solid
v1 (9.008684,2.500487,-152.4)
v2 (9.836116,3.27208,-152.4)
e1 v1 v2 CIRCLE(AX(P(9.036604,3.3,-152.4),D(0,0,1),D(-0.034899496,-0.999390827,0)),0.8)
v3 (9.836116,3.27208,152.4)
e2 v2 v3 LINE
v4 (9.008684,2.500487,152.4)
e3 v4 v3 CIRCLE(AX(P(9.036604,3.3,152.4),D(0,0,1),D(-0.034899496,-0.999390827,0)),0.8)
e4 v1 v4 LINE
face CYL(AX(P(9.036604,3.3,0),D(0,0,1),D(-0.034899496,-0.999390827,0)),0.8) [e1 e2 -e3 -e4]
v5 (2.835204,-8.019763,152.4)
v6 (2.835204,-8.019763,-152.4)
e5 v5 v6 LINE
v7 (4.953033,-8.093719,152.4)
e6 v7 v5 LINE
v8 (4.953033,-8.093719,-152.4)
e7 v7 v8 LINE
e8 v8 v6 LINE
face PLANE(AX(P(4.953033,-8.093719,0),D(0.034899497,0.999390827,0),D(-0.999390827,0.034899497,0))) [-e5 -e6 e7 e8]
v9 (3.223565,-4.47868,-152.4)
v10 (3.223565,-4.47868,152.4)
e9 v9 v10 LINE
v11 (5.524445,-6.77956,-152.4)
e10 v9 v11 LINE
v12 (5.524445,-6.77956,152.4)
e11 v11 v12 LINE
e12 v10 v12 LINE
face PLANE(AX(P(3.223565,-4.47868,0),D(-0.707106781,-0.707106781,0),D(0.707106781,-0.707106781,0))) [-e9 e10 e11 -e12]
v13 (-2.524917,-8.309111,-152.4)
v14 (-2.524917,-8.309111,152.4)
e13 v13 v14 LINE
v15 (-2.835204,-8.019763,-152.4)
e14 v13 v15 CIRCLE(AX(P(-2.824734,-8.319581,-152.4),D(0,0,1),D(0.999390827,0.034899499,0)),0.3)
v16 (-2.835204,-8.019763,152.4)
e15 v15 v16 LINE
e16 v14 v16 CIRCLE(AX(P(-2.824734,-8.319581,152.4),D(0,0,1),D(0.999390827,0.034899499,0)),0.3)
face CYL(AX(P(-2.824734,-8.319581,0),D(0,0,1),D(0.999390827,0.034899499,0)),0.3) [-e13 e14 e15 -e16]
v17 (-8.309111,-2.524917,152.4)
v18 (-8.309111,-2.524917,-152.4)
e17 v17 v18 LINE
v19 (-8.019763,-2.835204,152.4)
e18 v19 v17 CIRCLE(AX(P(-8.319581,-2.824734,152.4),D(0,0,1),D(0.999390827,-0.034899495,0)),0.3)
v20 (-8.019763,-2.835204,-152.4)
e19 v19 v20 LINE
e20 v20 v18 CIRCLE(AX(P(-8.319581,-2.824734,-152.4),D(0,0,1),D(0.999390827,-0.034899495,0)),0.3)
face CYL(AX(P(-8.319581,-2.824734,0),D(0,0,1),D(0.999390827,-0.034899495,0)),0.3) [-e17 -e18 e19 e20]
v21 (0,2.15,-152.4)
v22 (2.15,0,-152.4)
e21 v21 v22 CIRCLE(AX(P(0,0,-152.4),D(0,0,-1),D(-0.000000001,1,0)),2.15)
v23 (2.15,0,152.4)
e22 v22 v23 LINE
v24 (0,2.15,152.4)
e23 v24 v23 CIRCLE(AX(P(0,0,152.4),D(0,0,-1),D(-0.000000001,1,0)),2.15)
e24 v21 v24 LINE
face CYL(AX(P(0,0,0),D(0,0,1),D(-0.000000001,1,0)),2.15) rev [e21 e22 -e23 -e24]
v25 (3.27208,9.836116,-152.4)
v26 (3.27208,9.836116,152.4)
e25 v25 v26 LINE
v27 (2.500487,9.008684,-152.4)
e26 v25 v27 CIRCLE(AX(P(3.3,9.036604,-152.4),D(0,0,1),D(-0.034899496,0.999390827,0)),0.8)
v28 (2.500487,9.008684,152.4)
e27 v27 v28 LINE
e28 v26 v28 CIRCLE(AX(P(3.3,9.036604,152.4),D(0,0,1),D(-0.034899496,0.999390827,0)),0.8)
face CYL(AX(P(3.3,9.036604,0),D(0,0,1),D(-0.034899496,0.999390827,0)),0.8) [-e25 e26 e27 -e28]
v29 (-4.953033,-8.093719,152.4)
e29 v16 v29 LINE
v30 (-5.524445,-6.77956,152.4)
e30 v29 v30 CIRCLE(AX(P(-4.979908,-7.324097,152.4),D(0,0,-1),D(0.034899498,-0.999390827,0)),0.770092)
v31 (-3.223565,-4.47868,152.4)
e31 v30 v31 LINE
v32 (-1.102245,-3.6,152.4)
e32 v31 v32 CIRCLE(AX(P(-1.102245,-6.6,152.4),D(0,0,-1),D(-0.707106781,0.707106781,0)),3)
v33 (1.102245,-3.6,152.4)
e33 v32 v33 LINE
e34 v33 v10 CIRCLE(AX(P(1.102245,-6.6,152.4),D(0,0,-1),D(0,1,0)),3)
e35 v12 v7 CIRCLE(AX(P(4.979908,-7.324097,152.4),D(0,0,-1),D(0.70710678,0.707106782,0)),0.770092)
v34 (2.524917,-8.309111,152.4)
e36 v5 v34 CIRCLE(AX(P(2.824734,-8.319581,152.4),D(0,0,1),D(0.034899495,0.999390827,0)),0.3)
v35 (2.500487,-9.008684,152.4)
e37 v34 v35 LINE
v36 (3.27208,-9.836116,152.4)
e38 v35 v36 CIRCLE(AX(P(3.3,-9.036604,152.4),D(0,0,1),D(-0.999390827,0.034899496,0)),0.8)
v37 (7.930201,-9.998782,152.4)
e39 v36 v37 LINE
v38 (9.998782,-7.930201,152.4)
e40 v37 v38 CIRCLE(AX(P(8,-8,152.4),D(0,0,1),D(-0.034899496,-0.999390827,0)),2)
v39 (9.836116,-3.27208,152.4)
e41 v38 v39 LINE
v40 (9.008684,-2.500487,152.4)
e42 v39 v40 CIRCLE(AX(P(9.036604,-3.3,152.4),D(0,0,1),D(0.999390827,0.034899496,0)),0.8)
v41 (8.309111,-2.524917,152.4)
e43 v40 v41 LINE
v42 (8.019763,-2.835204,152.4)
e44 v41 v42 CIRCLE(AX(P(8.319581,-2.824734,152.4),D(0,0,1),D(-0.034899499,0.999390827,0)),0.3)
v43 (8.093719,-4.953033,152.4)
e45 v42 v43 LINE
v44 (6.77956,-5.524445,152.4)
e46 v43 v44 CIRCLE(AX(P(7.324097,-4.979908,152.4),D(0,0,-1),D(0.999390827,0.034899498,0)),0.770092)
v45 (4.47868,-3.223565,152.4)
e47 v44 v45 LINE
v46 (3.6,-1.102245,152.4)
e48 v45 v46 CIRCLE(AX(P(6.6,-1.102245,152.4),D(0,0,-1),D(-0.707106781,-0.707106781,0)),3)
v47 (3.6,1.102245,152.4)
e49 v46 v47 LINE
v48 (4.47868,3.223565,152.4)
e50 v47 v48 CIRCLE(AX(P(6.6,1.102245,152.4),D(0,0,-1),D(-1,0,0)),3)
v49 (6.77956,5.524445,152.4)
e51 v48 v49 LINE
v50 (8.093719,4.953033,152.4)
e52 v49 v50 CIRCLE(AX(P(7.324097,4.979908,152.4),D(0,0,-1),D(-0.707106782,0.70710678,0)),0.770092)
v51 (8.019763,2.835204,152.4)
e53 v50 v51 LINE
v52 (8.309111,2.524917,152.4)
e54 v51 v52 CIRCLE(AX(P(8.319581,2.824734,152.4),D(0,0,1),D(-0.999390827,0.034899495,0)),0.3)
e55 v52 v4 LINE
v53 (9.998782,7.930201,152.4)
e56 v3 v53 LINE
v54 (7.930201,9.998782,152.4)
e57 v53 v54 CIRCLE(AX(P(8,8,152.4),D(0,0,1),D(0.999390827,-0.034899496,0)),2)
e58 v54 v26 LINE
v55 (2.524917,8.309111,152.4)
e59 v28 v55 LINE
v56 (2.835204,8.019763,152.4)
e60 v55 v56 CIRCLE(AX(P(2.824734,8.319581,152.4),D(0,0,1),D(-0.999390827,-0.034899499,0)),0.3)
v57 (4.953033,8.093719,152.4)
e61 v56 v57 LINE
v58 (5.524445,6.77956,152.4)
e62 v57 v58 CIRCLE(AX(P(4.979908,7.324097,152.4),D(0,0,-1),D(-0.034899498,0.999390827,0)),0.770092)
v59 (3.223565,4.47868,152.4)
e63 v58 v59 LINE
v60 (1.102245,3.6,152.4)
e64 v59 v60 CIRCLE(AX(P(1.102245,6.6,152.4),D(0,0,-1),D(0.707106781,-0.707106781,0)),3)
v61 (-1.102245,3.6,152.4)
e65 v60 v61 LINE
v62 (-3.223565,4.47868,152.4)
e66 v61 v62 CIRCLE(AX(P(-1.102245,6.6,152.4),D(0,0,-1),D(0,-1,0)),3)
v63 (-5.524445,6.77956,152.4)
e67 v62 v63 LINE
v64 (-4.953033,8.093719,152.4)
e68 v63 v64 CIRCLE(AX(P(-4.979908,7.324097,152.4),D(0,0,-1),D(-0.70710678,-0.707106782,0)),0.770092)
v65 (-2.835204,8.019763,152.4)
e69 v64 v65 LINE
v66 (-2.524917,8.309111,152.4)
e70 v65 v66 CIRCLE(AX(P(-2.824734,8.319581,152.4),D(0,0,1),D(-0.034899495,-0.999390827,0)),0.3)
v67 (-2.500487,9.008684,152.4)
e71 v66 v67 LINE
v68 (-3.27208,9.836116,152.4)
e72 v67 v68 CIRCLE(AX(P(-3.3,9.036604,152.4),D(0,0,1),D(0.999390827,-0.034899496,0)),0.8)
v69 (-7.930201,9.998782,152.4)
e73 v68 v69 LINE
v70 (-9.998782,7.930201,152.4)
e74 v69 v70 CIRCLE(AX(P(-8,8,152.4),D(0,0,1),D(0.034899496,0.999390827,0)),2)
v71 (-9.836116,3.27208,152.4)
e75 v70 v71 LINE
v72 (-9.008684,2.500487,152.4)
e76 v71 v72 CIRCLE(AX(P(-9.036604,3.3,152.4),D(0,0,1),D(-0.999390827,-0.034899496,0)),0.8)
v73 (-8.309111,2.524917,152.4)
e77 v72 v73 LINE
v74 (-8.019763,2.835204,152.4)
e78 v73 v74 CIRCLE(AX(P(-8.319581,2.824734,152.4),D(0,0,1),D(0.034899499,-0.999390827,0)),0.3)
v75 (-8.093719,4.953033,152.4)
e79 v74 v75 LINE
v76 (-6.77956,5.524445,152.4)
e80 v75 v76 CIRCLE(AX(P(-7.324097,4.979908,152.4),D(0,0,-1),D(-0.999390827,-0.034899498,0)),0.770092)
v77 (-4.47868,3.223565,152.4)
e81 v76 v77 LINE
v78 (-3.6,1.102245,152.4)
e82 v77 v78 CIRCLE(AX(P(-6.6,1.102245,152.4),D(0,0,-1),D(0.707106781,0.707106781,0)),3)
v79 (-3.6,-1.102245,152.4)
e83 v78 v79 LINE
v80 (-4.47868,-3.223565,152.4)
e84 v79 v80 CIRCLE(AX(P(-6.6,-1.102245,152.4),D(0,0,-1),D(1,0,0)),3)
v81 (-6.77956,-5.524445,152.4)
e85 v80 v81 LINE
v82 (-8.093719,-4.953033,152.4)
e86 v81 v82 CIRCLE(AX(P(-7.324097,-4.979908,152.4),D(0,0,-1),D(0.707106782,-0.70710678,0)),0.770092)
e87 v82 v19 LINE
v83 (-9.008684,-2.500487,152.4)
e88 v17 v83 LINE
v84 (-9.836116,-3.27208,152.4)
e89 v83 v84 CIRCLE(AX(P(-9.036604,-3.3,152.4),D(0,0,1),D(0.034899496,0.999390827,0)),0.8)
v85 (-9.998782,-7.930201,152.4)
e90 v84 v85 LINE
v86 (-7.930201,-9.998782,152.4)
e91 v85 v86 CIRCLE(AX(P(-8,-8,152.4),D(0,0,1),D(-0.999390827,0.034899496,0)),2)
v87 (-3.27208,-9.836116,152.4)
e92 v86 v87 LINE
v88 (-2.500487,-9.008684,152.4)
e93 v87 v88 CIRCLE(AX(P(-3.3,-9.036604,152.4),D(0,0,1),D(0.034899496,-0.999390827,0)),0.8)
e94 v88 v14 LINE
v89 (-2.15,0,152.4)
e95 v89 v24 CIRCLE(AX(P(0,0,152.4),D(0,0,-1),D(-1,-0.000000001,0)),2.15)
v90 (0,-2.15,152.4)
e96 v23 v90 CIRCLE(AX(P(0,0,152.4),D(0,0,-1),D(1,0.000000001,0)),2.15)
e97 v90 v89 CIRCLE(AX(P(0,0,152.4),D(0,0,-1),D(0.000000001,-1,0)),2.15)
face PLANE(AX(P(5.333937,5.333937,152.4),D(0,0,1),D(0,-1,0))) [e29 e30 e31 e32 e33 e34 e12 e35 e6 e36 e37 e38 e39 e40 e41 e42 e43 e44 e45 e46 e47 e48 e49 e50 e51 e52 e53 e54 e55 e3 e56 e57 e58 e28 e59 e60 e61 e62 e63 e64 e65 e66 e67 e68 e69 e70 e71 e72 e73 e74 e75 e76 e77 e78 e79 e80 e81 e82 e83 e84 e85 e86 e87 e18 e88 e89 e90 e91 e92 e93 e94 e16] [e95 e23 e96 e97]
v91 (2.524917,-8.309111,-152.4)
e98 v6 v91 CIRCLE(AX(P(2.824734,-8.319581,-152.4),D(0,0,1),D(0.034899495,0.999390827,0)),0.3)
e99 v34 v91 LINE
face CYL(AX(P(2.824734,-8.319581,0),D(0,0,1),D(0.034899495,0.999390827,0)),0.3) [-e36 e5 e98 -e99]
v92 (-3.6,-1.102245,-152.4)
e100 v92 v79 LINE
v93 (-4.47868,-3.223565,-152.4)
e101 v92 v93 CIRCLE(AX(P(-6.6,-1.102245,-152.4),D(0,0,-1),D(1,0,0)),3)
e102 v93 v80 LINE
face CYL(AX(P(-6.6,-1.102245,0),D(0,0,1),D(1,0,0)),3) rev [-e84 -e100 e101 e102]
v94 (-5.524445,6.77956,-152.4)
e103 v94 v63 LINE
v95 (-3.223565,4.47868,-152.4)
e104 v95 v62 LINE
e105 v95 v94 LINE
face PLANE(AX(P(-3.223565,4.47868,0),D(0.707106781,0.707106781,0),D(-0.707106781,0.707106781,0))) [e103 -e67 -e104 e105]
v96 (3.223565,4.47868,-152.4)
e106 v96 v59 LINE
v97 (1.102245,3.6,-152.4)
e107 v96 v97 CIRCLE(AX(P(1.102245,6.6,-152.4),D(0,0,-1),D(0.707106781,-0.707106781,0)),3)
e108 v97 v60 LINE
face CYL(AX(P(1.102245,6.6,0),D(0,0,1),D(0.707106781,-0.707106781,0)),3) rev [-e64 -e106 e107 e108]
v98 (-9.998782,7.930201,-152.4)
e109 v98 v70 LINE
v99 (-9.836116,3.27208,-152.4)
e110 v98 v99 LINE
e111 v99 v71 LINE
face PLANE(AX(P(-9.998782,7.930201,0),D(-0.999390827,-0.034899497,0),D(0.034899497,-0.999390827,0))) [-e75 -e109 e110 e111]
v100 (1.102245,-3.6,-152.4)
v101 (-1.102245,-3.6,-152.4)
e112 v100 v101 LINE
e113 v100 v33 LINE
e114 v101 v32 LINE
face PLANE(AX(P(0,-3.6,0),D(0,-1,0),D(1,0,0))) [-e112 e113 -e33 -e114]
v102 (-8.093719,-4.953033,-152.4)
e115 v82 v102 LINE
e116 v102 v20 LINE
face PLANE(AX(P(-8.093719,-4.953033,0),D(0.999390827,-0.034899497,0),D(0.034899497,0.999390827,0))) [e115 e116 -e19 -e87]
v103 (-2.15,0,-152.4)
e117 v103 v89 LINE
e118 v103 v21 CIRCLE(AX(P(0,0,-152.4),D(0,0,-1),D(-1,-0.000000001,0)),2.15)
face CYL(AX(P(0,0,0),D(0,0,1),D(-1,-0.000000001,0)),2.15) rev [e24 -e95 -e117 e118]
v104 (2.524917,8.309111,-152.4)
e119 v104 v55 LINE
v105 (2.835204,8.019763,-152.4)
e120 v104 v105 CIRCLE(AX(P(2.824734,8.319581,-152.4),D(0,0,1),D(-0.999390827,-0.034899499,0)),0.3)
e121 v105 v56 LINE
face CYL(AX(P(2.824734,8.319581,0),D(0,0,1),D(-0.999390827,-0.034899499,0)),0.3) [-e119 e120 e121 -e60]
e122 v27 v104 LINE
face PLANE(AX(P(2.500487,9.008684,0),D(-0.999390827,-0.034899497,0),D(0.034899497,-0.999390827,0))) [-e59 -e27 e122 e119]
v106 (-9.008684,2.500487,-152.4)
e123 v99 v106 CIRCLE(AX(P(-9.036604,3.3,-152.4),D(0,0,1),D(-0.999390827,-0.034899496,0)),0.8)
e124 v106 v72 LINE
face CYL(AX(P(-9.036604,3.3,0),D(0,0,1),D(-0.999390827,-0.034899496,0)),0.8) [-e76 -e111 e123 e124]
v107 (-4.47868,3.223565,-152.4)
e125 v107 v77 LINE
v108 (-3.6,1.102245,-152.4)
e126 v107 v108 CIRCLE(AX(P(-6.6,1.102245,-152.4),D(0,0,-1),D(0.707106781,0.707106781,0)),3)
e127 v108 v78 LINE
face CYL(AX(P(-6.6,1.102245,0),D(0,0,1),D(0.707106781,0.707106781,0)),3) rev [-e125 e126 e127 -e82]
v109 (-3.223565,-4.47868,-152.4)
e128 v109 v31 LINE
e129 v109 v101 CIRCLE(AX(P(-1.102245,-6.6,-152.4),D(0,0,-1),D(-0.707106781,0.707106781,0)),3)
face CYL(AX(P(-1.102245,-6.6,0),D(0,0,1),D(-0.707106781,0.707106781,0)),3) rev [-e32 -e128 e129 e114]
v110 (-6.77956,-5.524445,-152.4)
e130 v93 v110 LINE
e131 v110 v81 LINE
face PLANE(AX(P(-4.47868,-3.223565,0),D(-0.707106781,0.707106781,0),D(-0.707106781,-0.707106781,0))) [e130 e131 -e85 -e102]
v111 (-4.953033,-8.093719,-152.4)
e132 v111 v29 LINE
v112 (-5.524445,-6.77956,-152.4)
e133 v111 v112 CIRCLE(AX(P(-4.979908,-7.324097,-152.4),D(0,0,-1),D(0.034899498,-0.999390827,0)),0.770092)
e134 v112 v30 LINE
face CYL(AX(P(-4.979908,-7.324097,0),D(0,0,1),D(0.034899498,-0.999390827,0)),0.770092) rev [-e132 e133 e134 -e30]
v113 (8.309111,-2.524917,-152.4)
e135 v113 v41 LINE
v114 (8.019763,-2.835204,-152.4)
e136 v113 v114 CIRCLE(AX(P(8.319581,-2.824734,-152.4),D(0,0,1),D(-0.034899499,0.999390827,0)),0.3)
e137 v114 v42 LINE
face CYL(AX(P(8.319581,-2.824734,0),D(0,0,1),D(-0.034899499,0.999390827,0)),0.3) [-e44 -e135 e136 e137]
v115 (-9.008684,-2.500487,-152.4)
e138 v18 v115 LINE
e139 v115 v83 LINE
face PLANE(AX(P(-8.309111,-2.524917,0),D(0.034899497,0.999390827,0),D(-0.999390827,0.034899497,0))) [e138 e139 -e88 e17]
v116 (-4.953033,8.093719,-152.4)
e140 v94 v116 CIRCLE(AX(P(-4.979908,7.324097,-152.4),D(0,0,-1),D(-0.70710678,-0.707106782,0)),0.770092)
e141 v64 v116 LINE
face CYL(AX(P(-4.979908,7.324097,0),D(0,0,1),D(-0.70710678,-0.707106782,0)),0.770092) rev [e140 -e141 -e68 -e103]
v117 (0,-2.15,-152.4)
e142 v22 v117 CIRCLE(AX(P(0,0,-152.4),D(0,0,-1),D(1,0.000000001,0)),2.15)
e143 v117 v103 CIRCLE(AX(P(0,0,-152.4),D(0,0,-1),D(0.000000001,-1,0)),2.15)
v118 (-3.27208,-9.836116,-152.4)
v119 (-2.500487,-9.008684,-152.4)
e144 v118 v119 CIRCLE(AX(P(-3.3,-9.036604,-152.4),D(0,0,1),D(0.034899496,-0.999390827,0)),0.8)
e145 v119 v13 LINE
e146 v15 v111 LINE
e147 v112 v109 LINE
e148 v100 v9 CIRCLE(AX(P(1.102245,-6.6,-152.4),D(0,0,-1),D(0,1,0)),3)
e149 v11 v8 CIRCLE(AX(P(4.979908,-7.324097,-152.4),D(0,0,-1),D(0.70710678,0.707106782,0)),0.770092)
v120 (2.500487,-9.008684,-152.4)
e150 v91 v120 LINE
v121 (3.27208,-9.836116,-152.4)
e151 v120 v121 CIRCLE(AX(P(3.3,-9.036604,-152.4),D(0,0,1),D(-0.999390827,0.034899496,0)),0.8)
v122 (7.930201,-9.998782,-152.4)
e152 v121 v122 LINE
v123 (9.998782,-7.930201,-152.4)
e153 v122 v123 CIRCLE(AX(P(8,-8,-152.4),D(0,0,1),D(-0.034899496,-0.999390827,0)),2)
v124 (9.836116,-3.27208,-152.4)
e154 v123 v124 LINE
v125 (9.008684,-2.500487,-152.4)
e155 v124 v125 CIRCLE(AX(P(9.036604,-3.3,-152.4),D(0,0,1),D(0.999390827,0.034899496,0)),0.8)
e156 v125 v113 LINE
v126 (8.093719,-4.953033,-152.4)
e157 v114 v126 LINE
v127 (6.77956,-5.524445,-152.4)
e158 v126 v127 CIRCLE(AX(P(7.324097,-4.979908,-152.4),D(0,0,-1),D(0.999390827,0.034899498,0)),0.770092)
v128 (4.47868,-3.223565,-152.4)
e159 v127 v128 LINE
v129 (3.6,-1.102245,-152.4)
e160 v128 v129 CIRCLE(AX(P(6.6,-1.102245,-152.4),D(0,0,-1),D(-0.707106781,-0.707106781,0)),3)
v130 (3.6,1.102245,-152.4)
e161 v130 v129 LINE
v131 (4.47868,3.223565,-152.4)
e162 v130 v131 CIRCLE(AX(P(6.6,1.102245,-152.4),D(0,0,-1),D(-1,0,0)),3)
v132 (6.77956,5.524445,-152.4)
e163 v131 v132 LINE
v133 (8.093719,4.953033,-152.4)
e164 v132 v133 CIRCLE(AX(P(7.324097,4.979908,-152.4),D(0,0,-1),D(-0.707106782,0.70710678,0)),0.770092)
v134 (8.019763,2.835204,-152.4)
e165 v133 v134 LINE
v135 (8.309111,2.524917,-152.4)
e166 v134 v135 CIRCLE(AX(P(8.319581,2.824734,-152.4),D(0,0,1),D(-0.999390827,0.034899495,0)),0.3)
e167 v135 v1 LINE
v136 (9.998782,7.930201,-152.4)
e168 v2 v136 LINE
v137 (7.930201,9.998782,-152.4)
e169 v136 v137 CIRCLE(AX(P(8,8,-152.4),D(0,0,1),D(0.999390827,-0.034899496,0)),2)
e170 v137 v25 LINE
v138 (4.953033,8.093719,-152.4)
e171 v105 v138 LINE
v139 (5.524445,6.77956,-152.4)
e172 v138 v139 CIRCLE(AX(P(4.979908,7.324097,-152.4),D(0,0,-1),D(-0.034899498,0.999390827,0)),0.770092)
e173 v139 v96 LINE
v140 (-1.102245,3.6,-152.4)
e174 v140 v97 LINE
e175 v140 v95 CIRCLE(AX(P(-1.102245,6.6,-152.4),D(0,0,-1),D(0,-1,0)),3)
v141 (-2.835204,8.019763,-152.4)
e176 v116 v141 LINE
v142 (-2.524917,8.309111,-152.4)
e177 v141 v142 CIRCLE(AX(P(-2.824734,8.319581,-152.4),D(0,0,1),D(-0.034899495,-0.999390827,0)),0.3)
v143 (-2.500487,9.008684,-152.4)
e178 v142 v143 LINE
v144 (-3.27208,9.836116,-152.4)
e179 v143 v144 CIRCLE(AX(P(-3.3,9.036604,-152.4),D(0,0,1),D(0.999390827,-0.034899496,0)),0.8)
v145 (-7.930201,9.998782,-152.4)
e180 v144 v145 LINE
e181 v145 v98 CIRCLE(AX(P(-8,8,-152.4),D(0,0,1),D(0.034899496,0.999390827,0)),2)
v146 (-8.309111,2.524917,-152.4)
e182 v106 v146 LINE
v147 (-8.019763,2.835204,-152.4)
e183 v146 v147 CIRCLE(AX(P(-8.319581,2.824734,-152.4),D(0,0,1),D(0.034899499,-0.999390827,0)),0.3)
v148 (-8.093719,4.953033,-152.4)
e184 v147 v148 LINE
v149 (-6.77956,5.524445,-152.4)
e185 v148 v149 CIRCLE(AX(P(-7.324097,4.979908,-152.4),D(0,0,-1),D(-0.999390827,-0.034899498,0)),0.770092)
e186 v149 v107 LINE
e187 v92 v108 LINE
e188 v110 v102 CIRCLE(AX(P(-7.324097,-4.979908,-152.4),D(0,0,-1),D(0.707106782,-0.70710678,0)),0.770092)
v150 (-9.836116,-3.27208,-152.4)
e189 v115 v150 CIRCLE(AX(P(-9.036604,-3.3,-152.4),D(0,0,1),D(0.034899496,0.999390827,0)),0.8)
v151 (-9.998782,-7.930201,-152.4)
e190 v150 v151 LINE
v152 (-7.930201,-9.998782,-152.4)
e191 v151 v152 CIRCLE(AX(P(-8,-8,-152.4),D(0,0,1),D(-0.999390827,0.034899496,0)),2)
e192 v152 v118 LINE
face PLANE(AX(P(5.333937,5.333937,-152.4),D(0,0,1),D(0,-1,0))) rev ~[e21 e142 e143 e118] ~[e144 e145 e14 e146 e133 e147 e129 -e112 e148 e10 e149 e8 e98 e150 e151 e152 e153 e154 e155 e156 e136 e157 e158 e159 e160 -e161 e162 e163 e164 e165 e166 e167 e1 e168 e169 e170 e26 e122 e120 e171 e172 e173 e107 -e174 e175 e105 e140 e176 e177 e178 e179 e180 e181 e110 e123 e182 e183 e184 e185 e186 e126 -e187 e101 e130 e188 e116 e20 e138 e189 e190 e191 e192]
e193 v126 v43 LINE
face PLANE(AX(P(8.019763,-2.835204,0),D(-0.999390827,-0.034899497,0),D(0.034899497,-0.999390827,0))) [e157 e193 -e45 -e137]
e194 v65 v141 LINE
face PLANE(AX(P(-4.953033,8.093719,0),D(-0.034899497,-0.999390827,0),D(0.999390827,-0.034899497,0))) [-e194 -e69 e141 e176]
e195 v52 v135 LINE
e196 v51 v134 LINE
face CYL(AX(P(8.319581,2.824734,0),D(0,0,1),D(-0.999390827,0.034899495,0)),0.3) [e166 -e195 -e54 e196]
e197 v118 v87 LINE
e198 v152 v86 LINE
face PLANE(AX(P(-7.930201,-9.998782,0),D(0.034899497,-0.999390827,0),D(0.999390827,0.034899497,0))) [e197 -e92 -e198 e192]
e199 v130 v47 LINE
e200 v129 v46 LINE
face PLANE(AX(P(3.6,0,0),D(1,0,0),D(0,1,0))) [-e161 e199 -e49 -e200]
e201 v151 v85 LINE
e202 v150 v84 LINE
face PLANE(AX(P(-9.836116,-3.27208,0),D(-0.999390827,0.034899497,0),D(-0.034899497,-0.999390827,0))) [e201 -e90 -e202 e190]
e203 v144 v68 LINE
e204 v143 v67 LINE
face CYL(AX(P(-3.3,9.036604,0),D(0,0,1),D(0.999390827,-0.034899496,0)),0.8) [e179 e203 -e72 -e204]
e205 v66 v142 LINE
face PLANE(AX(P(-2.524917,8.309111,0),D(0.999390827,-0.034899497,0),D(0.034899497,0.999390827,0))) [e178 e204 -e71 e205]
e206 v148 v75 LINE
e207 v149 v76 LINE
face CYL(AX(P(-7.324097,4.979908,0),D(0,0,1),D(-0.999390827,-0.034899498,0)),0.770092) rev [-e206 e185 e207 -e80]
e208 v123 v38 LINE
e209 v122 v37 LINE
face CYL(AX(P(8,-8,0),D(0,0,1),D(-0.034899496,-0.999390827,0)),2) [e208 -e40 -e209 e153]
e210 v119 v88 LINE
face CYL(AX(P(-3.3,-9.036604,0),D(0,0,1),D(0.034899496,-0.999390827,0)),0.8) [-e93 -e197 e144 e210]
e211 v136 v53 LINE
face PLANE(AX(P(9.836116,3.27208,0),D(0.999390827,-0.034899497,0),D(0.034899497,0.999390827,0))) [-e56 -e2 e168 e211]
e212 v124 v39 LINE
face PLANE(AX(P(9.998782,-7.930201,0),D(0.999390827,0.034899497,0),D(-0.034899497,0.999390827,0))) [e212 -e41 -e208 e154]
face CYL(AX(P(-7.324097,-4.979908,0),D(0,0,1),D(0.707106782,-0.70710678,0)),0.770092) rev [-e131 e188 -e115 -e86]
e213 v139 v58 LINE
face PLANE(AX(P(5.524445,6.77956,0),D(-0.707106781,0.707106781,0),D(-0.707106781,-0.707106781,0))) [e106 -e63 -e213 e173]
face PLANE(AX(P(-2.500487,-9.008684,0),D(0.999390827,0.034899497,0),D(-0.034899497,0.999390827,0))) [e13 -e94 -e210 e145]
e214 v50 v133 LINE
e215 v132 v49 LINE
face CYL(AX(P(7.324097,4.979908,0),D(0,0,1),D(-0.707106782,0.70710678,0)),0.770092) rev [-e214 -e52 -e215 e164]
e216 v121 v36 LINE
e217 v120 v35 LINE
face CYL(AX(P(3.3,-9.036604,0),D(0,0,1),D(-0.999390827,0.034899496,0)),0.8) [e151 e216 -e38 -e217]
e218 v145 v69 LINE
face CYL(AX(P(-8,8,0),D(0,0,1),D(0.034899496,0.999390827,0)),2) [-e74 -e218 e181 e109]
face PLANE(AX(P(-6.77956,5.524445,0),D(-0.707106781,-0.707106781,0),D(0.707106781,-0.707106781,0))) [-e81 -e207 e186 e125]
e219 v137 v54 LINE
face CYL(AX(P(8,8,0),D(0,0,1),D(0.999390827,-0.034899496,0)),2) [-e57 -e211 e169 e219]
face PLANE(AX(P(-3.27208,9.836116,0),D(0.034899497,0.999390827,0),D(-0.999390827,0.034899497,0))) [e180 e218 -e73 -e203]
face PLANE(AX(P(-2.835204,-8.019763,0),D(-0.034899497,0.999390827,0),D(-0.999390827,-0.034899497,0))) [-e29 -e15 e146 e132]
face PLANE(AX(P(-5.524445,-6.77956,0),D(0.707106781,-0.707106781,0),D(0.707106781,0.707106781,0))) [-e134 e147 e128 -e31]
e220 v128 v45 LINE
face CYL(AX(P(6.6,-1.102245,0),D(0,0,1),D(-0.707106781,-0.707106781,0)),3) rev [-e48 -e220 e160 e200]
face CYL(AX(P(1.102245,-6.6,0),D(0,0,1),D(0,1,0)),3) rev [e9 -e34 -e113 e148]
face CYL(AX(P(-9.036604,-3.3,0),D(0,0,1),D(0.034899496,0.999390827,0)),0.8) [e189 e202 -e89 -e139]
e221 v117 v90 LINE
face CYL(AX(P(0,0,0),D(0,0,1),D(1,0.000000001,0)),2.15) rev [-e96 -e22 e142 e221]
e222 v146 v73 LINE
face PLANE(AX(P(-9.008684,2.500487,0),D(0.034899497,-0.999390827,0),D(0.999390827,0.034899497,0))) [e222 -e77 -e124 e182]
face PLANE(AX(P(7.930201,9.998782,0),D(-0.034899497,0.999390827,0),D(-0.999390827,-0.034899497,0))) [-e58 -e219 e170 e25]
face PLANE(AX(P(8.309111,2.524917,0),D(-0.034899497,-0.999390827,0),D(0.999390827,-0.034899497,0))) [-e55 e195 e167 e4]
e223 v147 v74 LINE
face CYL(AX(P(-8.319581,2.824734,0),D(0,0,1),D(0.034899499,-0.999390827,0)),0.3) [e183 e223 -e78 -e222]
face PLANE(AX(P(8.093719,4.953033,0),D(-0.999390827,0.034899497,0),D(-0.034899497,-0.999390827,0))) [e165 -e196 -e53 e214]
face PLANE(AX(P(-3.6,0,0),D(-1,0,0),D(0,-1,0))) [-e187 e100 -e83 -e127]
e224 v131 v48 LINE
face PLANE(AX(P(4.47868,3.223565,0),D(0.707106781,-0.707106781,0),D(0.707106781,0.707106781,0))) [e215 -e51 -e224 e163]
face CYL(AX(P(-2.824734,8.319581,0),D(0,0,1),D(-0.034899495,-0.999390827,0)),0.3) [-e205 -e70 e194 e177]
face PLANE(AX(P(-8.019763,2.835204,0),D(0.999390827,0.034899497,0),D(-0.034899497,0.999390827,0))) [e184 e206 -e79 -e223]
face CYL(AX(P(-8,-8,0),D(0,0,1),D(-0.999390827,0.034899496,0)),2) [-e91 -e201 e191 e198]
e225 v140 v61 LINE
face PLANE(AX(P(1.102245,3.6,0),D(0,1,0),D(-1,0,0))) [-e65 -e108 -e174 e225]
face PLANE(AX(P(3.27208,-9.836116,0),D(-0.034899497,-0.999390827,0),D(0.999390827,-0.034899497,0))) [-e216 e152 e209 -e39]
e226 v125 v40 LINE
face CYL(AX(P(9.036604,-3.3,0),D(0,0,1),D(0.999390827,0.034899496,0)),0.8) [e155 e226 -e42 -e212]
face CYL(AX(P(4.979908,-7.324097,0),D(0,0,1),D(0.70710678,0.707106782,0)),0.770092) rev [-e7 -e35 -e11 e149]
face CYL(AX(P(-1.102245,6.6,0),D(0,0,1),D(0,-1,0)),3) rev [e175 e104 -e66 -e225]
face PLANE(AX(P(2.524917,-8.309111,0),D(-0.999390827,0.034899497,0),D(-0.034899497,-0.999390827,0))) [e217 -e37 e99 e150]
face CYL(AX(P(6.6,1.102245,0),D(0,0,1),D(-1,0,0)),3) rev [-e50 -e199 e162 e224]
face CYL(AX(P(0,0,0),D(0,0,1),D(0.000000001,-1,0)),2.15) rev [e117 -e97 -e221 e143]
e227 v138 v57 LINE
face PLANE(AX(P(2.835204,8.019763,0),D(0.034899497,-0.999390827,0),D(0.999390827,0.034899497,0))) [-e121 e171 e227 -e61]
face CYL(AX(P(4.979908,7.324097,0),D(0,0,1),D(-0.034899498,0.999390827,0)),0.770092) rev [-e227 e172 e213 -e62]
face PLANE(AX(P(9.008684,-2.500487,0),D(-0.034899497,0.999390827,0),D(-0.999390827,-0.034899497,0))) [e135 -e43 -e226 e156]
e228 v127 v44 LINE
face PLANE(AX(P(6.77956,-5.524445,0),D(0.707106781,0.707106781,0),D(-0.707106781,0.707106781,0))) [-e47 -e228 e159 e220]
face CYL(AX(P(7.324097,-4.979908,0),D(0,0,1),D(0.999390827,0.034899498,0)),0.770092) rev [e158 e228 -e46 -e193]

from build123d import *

# Parameters (mm, degrees)
BOSS_EXTRUDE1_DEPTH = 152.4
CIRPATTERN1_COUNT   = 4


with BuildPart() as part:
    # Sketch3 → Boss-Extrude1 (new body, symmetric)
    with BuildSketch(Plane.XY):
        with BuildLine():
            Line((-2.524916986, 8.30911066), (-2.500487338, 9.008684239))
            ThreePointArc((-2.500487338, 9.008684239), (-2.714917039, 9.582202525), (-3.272080403, 9.836116498))
            Line((-3.272080403, 9.836116498), (-7.930201007, 9.998781654))
            ThreePointArc((-7.930201007, 9.998781654), (-9.414213562, 9.414213562), (-9.998781654, 7.930201007))
            Line((-9.998781654, 7.930201007), (-9.836116498, 3.272080403))
            ThreePointArc((-9.836116498, 3.272080403), (-9.582202525, 2.714917039), (-9.008684239, 2.500487338))
            Line((-9.008684239, 2.500487338), (-8.30911066, 2.524916986))
            ThreePointArc((-8.30911066, 2.524916986), (-8.100174399, 2.620134726), (-8.019763261, 2.835204083))
            Line((-8.019763261, 2.835204083), (-8.093719461, 4.953032548))
            ThreePointArc((-8.093719461, 4.953032548), (-7.631170264, 5.686128657), (-6.779559917, 5.52444538))
            Line((-6.779559917, 5.52444538), (-4.478679656, 3.22356512))
            ThreePointArc((-4.478679656, 3.22356512), (-3.828361402, 2.250295073), (-3.6, 1.102244776))
            Line((-3.6, 1.102244776), (-3.6, 0))
            Line((-3.6, 0), (-2.15, 0))
            ThreePointArc((-2.15, 0), (-1.52027958, 1.52027958), (0, 2.15))
            Line((0, 2.15), (0, 3.6))
            Line((0, 3.6), (-1.102244776, 3.6))
            ThreePointArc((-1.102244776, 3.6), (-2.250295073, 3.828361402), (-3.22356512, 4.478679656))
            Line((-3.22356512, 4.478679656), (-5.52444538, 6.779559917))
            ThreePointArc((-5.52444538, 6.779559917), (-5.686128657, 7.631170264), (-4.953032548, 8.093719461))
            Line((-4.953032548, 8.093719461), (-2.835204083, 8.019763261))
            ThreePointArc((-2.835204083, 8.019763261), (-2.620134726, 8.100174399), (-2.524916986, 8.30911066))
        make_face()
    boss_extrude1 = extrude(amount=BOSS_EXTRUDE1_DEPTH, both=True)

    # CirPattern1: Boss-Extrude1 ×4 about axis
    cirpattern1_axis = Axis((0, 0, 0), (0, 0, 1))
    for i in range(1, CIRPATTERN1_COUNT):
        add(boss_extrude1.rotate(cirpattern1_axis, i * 360 / CIRPATTERN1_COUNT))


solid = part.part
